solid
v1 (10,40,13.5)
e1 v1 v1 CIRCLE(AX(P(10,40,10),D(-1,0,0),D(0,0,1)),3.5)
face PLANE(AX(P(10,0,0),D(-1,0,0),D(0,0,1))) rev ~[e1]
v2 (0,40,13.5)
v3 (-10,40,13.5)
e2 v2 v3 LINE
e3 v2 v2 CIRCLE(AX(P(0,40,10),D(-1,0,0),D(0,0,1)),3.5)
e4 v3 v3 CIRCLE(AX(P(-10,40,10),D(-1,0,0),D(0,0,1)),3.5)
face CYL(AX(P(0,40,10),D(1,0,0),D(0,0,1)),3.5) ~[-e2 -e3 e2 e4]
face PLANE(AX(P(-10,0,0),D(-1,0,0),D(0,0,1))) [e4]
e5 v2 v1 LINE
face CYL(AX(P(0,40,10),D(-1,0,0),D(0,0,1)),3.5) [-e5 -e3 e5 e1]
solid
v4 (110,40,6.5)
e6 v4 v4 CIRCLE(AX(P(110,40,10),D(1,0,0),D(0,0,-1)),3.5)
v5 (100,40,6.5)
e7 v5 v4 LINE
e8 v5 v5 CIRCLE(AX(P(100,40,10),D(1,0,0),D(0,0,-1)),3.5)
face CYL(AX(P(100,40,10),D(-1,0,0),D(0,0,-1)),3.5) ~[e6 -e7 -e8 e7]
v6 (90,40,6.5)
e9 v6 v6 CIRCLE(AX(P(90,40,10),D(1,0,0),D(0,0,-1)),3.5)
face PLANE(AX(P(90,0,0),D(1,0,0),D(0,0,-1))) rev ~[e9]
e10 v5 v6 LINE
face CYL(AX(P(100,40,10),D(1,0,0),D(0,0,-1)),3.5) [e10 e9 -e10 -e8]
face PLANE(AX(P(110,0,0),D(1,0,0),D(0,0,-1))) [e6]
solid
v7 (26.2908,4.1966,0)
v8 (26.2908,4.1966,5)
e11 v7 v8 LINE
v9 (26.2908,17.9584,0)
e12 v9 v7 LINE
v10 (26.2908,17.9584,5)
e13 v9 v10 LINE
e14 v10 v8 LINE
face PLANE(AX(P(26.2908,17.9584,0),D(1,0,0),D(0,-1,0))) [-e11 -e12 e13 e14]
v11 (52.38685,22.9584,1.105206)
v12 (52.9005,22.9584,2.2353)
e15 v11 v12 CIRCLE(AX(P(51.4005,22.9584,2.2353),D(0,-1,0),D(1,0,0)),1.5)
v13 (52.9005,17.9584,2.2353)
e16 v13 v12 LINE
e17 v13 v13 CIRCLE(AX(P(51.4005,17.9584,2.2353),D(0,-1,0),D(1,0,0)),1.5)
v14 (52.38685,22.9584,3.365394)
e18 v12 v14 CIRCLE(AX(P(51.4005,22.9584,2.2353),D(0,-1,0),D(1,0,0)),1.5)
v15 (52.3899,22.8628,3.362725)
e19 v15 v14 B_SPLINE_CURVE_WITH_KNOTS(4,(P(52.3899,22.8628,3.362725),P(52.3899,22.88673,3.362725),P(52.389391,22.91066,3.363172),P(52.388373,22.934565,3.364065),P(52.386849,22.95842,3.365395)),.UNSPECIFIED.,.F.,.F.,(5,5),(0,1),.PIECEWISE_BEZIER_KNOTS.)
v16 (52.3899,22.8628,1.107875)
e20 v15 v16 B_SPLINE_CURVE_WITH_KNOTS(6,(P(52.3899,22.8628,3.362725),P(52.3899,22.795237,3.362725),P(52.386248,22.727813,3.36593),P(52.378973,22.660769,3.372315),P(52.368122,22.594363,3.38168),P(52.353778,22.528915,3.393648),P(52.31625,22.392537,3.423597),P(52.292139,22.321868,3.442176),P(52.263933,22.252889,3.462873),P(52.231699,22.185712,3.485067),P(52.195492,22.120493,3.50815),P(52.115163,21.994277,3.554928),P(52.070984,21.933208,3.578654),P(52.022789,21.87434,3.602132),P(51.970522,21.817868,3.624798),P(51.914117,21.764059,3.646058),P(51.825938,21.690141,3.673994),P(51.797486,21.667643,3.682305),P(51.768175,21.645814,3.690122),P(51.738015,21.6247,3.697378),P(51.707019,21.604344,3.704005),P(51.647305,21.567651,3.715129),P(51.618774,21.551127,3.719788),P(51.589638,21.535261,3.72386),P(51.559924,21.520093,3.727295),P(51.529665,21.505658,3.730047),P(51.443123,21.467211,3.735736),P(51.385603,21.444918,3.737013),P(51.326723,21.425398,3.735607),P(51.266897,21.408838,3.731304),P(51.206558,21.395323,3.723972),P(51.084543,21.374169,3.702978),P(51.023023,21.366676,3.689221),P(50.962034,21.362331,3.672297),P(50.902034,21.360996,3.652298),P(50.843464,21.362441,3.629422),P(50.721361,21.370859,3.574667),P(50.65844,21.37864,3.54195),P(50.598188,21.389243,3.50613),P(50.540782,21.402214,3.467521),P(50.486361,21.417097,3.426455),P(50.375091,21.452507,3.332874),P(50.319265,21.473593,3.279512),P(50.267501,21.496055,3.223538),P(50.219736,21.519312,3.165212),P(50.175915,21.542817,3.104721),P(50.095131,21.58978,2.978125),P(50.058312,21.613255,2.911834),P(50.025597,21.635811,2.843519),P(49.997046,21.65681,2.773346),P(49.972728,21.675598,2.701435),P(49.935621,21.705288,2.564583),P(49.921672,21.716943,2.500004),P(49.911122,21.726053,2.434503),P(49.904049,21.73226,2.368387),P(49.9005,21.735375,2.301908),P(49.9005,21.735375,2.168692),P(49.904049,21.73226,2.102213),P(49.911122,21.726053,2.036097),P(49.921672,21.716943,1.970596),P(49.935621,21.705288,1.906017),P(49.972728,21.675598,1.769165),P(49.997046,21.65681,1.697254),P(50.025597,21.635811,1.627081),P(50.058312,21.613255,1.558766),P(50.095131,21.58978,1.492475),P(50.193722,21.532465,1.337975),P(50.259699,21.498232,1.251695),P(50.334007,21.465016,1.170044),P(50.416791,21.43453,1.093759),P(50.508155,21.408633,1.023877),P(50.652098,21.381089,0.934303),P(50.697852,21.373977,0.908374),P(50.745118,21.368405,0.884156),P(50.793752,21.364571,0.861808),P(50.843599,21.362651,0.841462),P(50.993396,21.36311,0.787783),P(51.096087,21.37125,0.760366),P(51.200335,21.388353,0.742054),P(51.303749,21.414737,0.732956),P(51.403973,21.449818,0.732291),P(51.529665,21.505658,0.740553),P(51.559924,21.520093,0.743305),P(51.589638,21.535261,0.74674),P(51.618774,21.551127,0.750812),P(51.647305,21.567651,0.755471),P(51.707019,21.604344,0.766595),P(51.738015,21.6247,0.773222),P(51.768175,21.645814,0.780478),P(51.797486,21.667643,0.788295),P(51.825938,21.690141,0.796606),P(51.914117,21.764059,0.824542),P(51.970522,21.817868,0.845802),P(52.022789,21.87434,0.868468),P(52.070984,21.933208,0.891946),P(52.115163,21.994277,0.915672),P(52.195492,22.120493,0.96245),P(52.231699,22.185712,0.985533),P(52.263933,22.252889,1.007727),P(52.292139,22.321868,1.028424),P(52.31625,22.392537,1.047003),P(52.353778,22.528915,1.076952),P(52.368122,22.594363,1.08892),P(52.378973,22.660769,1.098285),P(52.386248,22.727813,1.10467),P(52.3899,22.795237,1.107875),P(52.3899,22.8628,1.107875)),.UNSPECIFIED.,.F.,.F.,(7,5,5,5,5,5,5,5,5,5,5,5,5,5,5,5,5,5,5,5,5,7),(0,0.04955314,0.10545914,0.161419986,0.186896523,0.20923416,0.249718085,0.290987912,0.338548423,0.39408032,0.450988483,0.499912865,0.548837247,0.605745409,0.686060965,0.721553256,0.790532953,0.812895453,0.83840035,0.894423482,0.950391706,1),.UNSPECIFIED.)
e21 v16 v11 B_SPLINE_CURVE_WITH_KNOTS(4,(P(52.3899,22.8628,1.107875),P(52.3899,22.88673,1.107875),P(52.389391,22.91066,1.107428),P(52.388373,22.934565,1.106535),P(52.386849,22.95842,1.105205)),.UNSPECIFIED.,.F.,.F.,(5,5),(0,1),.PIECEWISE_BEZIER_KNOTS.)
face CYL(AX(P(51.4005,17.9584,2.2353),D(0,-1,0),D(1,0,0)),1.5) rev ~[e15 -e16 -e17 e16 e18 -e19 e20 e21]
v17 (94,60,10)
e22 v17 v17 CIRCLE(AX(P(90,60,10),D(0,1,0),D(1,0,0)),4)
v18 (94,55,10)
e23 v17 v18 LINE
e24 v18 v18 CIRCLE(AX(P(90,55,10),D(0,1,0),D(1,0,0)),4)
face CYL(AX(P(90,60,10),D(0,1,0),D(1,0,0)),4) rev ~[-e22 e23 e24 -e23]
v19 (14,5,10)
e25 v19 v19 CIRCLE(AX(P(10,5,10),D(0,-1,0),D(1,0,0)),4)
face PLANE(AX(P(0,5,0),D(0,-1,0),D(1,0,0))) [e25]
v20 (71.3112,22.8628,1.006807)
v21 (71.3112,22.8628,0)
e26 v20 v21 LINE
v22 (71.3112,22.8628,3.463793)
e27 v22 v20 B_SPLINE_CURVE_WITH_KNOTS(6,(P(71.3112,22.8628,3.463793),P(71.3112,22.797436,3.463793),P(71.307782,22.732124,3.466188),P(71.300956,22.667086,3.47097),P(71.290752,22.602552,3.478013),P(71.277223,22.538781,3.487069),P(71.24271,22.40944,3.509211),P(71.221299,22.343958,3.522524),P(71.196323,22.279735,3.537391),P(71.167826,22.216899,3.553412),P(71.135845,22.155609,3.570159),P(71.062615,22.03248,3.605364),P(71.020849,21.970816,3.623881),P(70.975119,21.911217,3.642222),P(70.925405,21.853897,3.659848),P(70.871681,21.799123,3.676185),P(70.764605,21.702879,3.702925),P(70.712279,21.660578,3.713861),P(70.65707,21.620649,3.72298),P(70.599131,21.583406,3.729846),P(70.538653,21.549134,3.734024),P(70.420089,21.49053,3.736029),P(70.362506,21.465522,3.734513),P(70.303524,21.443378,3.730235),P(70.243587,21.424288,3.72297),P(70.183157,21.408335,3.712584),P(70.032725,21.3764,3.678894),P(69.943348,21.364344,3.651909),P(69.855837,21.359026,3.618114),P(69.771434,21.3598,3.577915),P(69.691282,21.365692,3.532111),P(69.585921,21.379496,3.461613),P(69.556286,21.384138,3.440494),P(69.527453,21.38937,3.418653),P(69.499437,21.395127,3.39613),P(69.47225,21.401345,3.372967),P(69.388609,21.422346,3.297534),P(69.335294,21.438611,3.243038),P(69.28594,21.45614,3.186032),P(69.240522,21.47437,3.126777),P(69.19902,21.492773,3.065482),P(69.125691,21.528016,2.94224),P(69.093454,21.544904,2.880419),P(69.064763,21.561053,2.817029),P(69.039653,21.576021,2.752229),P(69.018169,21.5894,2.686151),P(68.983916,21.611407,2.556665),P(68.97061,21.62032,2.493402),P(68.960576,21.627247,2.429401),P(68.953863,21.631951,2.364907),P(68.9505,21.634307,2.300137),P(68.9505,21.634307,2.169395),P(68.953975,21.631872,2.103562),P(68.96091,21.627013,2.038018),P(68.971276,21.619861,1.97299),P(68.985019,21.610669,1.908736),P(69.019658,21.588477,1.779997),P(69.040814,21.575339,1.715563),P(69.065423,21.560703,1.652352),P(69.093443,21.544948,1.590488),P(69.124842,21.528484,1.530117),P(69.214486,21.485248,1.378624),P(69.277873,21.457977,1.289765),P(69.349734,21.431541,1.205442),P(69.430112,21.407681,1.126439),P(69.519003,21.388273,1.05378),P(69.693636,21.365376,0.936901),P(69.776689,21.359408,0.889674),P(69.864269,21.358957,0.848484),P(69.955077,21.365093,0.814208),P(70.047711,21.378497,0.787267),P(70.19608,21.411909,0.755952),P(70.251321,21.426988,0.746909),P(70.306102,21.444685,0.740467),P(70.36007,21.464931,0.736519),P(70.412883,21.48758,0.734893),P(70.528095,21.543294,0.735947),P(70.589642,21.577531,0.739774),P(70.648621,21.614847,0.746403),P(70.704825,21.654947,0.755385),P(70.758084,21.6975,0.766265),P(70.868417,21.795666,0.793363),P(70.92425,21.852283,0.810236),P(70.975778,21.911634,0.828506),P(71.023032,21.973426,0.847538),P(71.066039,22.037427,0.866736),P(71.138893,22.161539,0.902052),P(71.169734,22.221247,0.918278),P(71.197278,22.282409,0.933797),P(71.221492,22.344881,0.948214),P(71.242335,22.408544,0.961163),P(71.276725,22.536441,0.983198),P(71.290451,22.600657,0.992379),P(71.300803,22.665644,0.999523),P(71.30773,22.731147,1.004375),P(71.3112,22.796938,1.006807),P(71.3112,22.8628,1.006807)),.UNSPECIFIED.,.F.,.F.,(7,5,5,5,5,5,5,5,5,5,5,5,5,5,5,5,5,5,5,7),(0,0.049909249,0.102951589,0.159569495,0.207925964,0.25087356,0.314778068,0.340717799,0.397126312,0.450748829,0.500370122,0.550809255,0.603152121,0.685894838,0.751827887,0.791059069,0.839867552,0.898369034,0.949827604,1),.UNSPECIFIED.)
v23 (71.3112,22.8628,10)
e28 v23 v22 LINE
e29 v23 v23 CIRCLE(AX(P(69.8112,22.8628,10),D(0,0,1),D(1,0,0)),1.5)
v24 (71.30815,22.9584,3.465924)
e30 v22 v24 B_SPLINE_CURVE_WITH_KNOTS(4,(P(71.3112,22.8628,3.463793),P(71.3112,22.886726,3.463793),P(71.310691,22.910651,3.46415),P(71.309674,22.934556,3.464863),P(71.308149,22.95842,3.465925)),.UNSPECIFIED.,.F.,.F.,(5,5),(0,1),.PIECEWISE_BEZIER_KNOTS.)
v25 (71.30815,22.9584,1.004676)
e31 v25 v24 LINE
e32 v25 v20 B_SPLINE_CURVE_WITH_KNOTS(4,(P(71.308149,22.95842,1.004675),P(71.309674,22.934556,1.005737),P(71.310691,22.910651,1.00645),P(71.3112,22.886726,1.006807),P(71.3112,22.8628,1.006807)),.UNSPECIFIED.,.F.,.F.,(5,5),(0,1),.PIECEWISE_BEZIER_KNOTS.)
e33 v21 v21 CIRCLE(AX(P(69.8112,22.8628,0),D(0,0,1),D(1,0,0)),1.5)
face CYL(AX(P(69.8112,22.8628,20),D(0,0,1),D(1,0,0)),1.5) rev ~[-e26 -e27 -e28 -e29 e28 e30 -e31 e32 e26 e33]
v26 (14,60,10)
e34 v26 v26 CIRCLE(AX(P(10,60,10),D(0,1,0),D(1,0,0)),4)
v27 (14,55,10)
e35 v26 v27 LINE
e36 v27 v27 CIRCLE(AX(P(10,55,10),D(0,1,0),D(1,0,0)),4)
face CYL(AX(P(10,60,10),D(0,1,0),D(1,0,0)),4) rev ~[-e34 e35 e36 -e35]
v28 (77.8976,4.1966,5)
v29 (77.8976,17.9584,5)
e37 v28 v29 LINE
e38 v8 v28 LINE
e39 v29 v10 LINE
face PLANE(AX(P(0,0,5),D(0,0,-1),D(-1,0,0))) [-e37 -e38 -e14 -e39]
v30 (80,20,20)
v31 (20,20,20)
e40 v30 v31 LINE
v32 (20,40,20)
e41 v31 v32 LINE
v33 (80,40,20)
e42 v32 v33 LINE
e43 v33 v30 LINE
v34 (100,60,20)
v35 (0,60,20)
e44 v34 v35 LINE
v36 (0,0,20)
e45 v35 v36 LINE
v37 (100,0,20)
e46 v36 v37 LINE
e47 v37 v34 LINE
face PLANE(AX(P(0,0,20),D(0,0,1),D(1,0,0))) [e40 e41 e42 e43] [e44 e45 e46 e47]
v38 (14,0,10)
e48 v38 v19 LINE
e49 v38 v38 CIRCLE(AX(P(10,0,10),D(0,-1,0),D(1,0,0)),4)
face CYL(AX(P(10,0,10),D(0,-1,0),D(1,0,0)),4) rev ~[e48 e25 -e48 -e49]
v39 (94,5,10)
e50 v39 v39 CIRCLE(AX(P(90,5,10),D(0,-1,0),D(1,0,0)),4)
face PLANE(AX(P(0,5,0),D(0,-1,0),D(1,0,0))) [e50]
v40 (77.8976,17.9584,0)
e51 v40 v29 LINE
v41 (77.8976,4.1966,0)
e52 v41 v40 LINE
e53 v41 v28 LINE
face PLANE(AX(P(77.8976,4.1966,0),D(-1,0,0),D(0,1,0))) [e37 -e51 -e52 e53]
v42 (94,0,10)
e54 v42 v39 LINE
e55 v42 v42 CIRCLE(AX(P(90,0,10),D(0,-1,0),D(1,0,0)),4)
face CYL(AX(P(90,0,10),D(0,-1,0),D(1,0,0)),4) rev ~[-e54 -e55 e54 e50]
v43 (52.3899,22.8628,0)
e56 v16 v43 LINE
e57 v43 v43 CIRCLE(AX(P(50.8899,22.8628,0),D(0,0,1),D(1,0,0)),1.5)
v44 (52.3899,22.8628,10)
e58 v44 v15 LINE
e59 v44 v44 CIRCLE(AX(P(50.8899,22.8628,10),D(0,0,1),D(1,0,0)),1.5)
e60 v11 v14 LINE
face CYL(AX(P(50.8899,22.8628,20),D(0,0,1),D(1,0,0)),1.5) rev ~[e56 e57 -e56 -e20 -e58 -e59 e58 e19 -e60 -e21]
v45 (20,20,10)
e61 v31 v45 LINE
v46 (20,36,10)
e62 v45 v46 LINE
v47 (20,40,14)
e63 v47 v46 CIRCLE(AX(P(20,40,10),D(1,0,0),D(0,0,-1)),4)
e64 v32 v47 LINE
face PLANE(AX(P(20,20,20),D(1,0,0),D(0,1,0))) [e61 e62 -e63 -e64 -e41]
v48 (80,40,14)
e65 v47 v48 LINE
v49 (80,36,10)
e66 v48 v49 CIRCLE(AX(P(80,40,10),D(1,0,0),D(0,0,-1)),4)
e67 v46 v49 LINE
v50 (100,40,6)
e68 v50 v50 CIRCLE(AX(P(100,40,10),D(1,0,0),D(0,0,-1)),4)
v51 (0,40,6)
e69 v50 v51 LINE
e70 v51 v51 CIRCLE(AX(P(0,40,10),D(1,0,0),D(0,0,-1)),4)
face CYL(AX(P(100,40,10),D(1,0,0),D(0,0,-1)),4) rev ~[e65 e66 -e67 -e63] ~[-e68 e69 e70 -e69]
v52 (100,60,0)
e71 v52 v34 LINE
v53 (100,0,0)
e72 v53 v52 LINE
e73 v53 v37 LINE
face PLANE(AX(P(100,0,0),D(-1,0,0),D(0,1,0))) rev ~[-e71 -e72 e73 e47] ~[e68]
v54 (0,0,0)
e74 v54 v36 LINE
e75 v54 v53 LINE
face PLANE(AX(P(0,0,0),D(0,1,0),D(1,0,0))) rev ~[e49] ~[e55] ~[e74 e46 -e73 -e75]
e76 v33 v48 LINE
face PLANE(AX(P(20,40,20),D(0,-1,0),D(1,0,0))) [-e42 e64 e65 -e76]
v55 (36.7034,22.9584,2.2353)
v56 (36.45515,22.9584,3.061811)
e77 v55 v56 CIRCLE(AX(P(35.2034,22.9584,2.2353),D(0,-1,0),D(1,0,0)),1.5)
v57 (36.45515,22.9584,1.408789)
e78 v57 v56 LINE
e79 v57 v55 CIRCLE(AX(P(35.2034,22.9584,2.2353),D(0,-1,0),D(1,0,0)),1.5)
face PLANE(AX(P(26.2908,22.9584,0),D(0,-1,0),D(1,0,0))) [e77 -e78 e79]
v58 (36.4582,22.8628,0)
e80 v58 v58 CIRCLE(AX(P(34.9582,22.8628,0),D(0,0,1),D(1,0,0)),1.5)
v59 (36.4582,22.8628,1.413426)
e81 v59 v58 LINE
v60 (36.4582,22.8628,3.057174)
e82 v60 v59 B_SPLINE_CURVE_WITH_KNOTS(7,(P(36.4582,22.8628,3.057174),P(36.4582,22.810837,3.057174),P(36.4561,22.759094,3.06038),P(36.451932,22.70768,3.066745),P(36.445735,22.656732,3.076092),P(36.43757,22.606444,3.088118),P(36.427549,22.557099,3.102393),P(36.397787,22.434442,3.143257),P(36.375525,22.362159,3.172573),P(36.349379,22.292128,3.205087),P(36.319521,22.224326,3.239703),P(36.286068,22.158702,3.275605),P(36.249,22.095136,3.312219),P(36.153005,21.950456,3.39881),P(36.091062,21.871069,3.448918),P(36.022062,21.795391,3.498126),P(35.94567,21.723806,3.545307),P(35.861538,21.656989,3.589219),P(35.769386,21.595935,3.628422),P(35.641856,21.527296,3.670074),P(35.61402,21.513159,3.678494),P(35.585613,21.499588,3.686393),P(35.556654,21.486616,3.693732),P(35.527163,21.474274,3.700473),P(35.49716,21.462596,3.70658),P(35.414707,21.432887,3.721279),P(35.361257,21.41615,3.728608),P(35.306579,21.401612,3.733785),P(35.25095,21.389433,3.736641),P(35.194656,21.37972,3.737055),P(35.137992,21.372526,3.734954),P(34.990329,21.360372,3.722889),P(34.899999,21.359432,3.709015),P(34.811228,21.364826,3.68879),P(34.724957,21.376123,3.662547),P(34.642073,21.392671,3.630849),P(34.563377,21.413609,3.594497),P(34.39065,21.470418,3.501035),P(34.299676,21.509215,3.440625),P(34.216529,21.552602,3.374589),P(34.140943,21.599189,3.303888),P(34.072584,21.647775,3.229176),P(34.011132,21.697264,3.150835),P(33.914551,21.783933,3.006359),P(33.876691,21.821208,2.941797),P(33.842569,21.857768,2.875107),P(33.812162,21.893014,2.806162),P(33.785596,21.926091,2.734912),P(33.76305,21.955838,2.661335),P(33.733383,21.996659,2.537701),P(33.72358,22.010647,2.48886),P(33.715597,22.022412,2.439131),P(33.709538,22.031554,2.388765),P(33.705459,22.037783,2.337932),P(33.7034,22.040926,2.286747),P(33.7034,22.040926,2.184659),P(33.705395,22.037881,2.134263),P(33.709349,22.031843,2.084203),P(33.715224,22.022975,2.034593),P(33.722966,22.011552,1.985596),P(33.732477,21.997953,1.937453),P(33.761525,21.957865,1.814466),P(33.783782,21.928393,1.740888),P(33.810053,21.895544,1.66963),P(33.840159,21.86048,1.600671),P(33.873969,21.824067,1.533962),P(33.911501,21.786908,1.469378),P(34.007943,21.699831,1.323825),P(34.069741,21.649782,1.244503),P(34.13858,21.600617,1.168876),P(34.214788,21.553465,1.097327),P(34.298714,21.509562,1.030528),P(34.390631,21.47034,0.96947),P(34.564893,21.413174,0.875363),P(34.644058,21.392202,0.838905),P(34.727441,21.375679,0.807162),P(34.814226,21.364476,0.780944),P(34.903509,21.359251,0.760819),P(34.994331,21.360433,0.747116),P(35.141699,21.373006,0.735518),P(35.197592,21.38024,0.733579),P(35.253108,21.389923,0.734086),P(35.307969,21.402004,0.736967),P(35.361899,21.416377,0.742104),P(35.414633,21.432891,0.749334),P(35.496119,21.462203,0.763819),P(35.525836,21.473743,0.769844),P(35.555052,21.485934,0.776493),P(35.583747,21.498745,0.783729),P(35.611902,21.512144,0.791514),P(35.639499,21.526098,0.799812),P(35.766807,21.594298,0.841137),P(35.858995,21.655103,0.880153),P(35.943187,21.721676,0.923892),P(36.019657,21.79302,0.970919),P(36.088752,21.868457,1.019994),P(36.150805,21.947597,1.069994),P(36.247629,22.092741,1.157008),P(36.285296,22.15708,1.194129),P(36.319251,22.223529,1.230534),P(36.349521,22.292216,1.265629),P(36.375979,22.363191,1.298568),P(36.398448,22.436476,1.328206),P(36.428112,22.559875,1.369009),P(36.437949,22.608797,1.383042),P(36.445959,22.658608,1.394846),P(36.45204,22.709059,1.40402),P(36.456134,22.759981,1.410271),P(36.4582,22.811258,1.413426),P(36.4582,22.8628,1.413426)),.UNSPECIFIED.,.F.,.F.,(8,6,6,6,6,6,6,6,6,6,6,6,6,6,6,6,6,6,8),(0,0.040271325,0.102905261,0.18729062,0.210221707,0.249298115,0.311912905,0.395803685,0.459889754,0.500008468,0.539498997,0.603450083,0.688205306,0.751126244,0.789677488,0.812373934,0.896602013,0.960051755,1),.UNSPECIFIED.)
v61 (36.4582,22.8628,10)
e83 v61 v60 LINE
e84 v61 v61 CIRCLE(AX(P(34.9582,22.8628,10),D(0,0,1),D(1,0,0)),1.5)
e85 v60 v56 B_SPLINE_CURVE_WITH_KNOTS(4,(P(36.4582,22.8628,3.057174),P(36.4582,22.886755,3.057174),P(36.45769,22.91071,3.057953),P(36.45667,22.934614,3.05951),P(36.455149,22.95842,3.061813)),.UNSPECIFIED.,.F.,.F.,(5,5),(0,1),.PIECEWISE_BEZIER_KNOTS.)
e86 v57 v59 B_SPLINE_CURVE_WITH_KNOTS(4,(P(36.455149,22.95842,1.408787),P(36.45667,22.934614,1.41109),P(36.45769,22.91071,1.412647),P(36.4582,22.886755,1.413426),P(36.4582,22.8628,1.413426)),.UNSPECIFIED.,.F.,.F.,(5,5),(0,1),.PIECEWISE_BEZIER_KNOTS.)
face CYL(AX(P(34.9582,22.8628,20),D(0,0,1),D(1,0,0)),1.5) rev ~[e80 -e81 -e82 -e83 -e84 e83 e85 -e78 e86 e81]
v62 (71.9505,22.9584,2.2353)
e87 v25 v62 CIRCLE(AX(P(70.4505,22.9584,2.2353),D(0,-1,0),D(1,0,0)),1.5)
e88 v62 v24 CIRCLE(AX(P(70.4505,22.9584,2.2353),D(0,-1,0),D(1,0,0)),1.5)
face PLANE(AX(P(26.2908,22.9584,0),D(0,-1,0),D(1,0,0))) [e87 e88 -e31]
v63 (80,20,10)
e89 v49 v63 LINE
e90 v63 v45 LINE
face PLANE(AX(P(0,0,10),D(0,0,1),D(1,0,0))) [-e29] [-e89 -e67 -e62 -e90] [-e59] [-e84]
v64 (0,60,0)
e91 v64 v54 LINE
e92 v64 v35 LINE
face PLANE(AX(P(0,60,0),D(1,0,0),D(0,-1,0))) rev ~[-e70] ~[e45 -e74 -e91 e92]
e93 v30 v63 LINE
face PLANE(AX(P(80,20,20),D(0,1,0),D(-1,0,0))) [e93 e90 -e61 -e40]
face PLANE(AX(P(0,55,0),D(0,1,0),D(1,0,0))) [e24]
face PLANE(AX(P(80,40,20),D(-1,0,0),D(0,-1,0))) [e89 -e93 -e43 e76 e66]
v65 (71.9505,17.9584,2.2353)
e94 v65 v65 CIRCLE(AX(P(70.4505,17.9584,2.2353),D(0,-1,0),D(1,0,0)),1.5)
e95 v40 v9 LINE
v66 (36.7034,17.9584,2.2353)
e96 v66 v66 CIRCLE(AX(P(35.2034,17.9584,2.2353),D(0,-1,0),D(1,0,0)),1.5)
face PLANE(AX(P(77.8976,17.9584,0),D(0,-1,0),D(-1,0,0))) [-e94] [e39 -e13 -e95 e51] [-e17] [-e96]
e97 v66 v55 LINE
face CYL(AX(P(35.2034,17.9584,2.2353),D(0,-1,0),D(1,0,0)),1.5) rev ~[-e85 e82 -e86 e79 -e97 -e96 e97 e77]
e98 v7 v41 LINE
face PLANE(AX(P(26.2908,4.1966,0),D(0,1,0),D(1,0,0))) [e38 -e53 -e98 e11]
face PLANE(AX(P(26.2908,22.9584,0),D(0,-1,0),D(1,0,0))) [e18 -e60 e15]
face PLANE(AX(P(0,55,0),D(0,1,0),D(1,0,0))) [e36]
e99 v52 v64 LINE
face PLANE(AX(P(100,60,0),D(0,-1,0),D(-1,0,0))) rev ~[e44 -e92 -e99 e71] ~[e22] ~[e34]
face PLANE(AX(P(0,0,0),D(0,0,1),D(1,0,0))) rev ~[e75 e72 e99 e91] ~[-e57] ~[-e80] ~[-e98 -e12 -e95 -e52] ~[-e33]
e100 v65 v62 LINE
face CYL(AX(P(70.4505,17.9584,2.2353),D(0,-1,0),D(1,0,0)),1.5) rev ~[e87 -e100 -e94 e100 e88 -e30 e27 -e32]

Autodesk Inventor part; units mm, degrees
ref_plane "YZ Plane" through (0, 0, 0) normal (1, 0, 0) x (0, 1, 0)
ref_plane "XZ Plane" through (0, 0, 0) normal (0, 1, 0) x (-1, 0, 0)
ref_plane "XY Plane" through (0, 0, 0) normal (0, 0, 1) x (1, 0, 0)
sketch "Sketch1" plane through (0, 0, 0) normal (0, 0, 1) x (1, 0, 0)
  line L0 (0, 60) -> (0, 0)
  line L1 (0, 0) -> (100, 0)
  line L2 (100, 0) -> (100, 60)
  line L3 (100, 60) -> (0, 60)
  dimension "d0" = 100
  dimension "d1" = 60
extrude "Extrusion1" add sketch "Sketch1" along normal blind 20
sketch "Sketch2" plane through (0, 0, 20) normal (0, 0, 1) x (1, 0, 0)
  line L0 (20, 40) -> (80, 40)
  line L1 (80, 40) -> (80, 20)
  line L2 (80, 20) -> (20, 20)
  line L3 (20, 20) -> (20, 40)
  line L4 (0, 60) -> (0, 0) projected
  line L5 (100, 0) -> (100, 60) projected
  line L6 (100, 60) -> (0, 60) projected
  line L7 (0, 0) -> (100, 0) projected
  dimension "d4" = 20
  dimension "d5" = 20
  dimension "d6" = 20
  dimension "d7" = 20
  dimension "d8" = 60
  dimension "d9" = 20
extrude "Extrusion2" cut sketch "Sketch2" against normal blind 10 contours L0 L1 L2 L3
sketch "Sketch3" plane through (100, 0, 0) normal (1, 0, 0) x (0, 0, -1)
  circle A0 centre (-10, 40) radius 4
  point P0 (0, 0)
  dimension "d12" = 8
extrude "Extrusion3" cut sketch "Sketch3" against normal through all
sketch "Sketch4" plane through (0, 60, 0) normal (0, 1, 0) x (1, 0, 0)
  line L0 (100, 0) -> (0, 0) projected
  line L1 (100, -20) -> (0, -20) projected
  line L2 (100, 0) -> (100, -20) projected
  line L3 (0, 0) -> (100, 0) projected
  line L4 (0, 0) -> (0, -20) projected
  line L5 (100, -6) -> (100, -14) projected
  circle A0 centre (10, -10) radius 4
  circle A1 centre (90, -10) radius 4
  dimension "d21" = 20
  dimension "d27" = 8
  dimension "d28" = 8
  dimension "d29" = 80
sketch "Sketch5" plane through (0, 60, 0) normal (0, 1, 0) x (1, 0, 0)
  point P0 (0, 0)
extrude "Extrusion4" cut sketch "Sketch4" against normal blind 5 contours A0 | A1
sketch "Sketch6" plane through (0, 0, 0) normal (0, -1, 0) x (1, 0, 0)
  circle A0 centre (10, 10) radius 4 projected
  circle A1 centre (10, 10) radius 4
  circle A2 centre (90, 10) radius 4 projected
  circle A3 centre (90, 10) radius 4
  line L0 (0, 0) -> (0, 20) projected
  line L1 (100, 0) -> (100, 20) projected
  dimension "d32" = 8
  dimension "d33" = 8
  dimension "d34" = 80
  dimension "d35" = 10
  dimension "d36" = 10
extrude "Extrusion5" cut sketch "Sketch6" against normal blind 5
sketch "Sketch7" plane through (0, 0, 20) normal (0, 0, 1) x (1, 0, 0)
  circle A0 centre (34.9582, 22.8628) radius 1.5
  circle A1 centre (50.8899, 22.8628) radius 1.5
  circle A2 centre (69.8112, 22.8628) radius 1.5
  point P0 (0, 0)
  dimension "d39" = 3
  dimension "d40" = 3
  dimension "d41" = 3
extrude "Extrusion6" cut sketch "Sketch7" against normal through all
sketch "Sketch8" plane through (0, 0, 0) normal (0, 0, -1) x (-1, 0, 0)
  line L0 (-77.8976, 17.9584) -> (-26.2908, 17.9584)
  line L1 (-26.2908, 17.9584) -> (-26.2908, 4.1966)
  line L2 (-26.2908, 4.1966) -> (-77.8976, 4.1966)
  line L3 (-77.8976, 4.1966) -> (-77.8976, 17.9584)
  point P0 (0, 0)
extrude "Extrusion7" cut sketch "Sketch8" against normal blind 5
sketch "Sketch9" plane through (26.2908, 17.9584, 0) normal (0, -1, 0) x (1, 0, 0)
  circle A0 centre (44.1597, 2.2353) radius 1.5
  circle A1 centre (25.1097, 2.2353) radius 1.5
  circle A2 centre (8.9126, 2.2353) radius 1.5
  point P0 (-26.2908, 0)
  dimension "d46" = 3
  dimension "d47" = 3
  dimension "d48" = 3
extrude "Extrusion8" cut sketch "Sketch9" against normal blind 5
sketch "Sketch10" plane through (0, 0, 0) normal (0, -1, 0) x (1, 0, 0)
  point P0 (0, 0)
sketch "Sketch11" plane through (100, 0, 0) normal (1, 0, 0) x (0, 0, -1)
  circle A0 centre (-10, 40) radius 4 projected
  circle A1 centre (-10, 40) radius 3.5
  point P0 (0, 0)
  dimension "d51" = 7
extrude "Extrusion9" add sketch "Sketch11" along normal mid plane 20 contours A1
sketch "Sketch12" plane through (0, 0, 0) normal (-1, 0, 0) x (0, 0, 1)
  circle A0 centre (10, 40) radius 3.5 projected
  circle A1 centre (10, 40) radius 3.5
  point P0 (0, 0)
extrude "Extrusion10" add sketch "Sketch12" along normal mid plane 20
properties part number "middle part edited" material "Polyethylene, High Density"
